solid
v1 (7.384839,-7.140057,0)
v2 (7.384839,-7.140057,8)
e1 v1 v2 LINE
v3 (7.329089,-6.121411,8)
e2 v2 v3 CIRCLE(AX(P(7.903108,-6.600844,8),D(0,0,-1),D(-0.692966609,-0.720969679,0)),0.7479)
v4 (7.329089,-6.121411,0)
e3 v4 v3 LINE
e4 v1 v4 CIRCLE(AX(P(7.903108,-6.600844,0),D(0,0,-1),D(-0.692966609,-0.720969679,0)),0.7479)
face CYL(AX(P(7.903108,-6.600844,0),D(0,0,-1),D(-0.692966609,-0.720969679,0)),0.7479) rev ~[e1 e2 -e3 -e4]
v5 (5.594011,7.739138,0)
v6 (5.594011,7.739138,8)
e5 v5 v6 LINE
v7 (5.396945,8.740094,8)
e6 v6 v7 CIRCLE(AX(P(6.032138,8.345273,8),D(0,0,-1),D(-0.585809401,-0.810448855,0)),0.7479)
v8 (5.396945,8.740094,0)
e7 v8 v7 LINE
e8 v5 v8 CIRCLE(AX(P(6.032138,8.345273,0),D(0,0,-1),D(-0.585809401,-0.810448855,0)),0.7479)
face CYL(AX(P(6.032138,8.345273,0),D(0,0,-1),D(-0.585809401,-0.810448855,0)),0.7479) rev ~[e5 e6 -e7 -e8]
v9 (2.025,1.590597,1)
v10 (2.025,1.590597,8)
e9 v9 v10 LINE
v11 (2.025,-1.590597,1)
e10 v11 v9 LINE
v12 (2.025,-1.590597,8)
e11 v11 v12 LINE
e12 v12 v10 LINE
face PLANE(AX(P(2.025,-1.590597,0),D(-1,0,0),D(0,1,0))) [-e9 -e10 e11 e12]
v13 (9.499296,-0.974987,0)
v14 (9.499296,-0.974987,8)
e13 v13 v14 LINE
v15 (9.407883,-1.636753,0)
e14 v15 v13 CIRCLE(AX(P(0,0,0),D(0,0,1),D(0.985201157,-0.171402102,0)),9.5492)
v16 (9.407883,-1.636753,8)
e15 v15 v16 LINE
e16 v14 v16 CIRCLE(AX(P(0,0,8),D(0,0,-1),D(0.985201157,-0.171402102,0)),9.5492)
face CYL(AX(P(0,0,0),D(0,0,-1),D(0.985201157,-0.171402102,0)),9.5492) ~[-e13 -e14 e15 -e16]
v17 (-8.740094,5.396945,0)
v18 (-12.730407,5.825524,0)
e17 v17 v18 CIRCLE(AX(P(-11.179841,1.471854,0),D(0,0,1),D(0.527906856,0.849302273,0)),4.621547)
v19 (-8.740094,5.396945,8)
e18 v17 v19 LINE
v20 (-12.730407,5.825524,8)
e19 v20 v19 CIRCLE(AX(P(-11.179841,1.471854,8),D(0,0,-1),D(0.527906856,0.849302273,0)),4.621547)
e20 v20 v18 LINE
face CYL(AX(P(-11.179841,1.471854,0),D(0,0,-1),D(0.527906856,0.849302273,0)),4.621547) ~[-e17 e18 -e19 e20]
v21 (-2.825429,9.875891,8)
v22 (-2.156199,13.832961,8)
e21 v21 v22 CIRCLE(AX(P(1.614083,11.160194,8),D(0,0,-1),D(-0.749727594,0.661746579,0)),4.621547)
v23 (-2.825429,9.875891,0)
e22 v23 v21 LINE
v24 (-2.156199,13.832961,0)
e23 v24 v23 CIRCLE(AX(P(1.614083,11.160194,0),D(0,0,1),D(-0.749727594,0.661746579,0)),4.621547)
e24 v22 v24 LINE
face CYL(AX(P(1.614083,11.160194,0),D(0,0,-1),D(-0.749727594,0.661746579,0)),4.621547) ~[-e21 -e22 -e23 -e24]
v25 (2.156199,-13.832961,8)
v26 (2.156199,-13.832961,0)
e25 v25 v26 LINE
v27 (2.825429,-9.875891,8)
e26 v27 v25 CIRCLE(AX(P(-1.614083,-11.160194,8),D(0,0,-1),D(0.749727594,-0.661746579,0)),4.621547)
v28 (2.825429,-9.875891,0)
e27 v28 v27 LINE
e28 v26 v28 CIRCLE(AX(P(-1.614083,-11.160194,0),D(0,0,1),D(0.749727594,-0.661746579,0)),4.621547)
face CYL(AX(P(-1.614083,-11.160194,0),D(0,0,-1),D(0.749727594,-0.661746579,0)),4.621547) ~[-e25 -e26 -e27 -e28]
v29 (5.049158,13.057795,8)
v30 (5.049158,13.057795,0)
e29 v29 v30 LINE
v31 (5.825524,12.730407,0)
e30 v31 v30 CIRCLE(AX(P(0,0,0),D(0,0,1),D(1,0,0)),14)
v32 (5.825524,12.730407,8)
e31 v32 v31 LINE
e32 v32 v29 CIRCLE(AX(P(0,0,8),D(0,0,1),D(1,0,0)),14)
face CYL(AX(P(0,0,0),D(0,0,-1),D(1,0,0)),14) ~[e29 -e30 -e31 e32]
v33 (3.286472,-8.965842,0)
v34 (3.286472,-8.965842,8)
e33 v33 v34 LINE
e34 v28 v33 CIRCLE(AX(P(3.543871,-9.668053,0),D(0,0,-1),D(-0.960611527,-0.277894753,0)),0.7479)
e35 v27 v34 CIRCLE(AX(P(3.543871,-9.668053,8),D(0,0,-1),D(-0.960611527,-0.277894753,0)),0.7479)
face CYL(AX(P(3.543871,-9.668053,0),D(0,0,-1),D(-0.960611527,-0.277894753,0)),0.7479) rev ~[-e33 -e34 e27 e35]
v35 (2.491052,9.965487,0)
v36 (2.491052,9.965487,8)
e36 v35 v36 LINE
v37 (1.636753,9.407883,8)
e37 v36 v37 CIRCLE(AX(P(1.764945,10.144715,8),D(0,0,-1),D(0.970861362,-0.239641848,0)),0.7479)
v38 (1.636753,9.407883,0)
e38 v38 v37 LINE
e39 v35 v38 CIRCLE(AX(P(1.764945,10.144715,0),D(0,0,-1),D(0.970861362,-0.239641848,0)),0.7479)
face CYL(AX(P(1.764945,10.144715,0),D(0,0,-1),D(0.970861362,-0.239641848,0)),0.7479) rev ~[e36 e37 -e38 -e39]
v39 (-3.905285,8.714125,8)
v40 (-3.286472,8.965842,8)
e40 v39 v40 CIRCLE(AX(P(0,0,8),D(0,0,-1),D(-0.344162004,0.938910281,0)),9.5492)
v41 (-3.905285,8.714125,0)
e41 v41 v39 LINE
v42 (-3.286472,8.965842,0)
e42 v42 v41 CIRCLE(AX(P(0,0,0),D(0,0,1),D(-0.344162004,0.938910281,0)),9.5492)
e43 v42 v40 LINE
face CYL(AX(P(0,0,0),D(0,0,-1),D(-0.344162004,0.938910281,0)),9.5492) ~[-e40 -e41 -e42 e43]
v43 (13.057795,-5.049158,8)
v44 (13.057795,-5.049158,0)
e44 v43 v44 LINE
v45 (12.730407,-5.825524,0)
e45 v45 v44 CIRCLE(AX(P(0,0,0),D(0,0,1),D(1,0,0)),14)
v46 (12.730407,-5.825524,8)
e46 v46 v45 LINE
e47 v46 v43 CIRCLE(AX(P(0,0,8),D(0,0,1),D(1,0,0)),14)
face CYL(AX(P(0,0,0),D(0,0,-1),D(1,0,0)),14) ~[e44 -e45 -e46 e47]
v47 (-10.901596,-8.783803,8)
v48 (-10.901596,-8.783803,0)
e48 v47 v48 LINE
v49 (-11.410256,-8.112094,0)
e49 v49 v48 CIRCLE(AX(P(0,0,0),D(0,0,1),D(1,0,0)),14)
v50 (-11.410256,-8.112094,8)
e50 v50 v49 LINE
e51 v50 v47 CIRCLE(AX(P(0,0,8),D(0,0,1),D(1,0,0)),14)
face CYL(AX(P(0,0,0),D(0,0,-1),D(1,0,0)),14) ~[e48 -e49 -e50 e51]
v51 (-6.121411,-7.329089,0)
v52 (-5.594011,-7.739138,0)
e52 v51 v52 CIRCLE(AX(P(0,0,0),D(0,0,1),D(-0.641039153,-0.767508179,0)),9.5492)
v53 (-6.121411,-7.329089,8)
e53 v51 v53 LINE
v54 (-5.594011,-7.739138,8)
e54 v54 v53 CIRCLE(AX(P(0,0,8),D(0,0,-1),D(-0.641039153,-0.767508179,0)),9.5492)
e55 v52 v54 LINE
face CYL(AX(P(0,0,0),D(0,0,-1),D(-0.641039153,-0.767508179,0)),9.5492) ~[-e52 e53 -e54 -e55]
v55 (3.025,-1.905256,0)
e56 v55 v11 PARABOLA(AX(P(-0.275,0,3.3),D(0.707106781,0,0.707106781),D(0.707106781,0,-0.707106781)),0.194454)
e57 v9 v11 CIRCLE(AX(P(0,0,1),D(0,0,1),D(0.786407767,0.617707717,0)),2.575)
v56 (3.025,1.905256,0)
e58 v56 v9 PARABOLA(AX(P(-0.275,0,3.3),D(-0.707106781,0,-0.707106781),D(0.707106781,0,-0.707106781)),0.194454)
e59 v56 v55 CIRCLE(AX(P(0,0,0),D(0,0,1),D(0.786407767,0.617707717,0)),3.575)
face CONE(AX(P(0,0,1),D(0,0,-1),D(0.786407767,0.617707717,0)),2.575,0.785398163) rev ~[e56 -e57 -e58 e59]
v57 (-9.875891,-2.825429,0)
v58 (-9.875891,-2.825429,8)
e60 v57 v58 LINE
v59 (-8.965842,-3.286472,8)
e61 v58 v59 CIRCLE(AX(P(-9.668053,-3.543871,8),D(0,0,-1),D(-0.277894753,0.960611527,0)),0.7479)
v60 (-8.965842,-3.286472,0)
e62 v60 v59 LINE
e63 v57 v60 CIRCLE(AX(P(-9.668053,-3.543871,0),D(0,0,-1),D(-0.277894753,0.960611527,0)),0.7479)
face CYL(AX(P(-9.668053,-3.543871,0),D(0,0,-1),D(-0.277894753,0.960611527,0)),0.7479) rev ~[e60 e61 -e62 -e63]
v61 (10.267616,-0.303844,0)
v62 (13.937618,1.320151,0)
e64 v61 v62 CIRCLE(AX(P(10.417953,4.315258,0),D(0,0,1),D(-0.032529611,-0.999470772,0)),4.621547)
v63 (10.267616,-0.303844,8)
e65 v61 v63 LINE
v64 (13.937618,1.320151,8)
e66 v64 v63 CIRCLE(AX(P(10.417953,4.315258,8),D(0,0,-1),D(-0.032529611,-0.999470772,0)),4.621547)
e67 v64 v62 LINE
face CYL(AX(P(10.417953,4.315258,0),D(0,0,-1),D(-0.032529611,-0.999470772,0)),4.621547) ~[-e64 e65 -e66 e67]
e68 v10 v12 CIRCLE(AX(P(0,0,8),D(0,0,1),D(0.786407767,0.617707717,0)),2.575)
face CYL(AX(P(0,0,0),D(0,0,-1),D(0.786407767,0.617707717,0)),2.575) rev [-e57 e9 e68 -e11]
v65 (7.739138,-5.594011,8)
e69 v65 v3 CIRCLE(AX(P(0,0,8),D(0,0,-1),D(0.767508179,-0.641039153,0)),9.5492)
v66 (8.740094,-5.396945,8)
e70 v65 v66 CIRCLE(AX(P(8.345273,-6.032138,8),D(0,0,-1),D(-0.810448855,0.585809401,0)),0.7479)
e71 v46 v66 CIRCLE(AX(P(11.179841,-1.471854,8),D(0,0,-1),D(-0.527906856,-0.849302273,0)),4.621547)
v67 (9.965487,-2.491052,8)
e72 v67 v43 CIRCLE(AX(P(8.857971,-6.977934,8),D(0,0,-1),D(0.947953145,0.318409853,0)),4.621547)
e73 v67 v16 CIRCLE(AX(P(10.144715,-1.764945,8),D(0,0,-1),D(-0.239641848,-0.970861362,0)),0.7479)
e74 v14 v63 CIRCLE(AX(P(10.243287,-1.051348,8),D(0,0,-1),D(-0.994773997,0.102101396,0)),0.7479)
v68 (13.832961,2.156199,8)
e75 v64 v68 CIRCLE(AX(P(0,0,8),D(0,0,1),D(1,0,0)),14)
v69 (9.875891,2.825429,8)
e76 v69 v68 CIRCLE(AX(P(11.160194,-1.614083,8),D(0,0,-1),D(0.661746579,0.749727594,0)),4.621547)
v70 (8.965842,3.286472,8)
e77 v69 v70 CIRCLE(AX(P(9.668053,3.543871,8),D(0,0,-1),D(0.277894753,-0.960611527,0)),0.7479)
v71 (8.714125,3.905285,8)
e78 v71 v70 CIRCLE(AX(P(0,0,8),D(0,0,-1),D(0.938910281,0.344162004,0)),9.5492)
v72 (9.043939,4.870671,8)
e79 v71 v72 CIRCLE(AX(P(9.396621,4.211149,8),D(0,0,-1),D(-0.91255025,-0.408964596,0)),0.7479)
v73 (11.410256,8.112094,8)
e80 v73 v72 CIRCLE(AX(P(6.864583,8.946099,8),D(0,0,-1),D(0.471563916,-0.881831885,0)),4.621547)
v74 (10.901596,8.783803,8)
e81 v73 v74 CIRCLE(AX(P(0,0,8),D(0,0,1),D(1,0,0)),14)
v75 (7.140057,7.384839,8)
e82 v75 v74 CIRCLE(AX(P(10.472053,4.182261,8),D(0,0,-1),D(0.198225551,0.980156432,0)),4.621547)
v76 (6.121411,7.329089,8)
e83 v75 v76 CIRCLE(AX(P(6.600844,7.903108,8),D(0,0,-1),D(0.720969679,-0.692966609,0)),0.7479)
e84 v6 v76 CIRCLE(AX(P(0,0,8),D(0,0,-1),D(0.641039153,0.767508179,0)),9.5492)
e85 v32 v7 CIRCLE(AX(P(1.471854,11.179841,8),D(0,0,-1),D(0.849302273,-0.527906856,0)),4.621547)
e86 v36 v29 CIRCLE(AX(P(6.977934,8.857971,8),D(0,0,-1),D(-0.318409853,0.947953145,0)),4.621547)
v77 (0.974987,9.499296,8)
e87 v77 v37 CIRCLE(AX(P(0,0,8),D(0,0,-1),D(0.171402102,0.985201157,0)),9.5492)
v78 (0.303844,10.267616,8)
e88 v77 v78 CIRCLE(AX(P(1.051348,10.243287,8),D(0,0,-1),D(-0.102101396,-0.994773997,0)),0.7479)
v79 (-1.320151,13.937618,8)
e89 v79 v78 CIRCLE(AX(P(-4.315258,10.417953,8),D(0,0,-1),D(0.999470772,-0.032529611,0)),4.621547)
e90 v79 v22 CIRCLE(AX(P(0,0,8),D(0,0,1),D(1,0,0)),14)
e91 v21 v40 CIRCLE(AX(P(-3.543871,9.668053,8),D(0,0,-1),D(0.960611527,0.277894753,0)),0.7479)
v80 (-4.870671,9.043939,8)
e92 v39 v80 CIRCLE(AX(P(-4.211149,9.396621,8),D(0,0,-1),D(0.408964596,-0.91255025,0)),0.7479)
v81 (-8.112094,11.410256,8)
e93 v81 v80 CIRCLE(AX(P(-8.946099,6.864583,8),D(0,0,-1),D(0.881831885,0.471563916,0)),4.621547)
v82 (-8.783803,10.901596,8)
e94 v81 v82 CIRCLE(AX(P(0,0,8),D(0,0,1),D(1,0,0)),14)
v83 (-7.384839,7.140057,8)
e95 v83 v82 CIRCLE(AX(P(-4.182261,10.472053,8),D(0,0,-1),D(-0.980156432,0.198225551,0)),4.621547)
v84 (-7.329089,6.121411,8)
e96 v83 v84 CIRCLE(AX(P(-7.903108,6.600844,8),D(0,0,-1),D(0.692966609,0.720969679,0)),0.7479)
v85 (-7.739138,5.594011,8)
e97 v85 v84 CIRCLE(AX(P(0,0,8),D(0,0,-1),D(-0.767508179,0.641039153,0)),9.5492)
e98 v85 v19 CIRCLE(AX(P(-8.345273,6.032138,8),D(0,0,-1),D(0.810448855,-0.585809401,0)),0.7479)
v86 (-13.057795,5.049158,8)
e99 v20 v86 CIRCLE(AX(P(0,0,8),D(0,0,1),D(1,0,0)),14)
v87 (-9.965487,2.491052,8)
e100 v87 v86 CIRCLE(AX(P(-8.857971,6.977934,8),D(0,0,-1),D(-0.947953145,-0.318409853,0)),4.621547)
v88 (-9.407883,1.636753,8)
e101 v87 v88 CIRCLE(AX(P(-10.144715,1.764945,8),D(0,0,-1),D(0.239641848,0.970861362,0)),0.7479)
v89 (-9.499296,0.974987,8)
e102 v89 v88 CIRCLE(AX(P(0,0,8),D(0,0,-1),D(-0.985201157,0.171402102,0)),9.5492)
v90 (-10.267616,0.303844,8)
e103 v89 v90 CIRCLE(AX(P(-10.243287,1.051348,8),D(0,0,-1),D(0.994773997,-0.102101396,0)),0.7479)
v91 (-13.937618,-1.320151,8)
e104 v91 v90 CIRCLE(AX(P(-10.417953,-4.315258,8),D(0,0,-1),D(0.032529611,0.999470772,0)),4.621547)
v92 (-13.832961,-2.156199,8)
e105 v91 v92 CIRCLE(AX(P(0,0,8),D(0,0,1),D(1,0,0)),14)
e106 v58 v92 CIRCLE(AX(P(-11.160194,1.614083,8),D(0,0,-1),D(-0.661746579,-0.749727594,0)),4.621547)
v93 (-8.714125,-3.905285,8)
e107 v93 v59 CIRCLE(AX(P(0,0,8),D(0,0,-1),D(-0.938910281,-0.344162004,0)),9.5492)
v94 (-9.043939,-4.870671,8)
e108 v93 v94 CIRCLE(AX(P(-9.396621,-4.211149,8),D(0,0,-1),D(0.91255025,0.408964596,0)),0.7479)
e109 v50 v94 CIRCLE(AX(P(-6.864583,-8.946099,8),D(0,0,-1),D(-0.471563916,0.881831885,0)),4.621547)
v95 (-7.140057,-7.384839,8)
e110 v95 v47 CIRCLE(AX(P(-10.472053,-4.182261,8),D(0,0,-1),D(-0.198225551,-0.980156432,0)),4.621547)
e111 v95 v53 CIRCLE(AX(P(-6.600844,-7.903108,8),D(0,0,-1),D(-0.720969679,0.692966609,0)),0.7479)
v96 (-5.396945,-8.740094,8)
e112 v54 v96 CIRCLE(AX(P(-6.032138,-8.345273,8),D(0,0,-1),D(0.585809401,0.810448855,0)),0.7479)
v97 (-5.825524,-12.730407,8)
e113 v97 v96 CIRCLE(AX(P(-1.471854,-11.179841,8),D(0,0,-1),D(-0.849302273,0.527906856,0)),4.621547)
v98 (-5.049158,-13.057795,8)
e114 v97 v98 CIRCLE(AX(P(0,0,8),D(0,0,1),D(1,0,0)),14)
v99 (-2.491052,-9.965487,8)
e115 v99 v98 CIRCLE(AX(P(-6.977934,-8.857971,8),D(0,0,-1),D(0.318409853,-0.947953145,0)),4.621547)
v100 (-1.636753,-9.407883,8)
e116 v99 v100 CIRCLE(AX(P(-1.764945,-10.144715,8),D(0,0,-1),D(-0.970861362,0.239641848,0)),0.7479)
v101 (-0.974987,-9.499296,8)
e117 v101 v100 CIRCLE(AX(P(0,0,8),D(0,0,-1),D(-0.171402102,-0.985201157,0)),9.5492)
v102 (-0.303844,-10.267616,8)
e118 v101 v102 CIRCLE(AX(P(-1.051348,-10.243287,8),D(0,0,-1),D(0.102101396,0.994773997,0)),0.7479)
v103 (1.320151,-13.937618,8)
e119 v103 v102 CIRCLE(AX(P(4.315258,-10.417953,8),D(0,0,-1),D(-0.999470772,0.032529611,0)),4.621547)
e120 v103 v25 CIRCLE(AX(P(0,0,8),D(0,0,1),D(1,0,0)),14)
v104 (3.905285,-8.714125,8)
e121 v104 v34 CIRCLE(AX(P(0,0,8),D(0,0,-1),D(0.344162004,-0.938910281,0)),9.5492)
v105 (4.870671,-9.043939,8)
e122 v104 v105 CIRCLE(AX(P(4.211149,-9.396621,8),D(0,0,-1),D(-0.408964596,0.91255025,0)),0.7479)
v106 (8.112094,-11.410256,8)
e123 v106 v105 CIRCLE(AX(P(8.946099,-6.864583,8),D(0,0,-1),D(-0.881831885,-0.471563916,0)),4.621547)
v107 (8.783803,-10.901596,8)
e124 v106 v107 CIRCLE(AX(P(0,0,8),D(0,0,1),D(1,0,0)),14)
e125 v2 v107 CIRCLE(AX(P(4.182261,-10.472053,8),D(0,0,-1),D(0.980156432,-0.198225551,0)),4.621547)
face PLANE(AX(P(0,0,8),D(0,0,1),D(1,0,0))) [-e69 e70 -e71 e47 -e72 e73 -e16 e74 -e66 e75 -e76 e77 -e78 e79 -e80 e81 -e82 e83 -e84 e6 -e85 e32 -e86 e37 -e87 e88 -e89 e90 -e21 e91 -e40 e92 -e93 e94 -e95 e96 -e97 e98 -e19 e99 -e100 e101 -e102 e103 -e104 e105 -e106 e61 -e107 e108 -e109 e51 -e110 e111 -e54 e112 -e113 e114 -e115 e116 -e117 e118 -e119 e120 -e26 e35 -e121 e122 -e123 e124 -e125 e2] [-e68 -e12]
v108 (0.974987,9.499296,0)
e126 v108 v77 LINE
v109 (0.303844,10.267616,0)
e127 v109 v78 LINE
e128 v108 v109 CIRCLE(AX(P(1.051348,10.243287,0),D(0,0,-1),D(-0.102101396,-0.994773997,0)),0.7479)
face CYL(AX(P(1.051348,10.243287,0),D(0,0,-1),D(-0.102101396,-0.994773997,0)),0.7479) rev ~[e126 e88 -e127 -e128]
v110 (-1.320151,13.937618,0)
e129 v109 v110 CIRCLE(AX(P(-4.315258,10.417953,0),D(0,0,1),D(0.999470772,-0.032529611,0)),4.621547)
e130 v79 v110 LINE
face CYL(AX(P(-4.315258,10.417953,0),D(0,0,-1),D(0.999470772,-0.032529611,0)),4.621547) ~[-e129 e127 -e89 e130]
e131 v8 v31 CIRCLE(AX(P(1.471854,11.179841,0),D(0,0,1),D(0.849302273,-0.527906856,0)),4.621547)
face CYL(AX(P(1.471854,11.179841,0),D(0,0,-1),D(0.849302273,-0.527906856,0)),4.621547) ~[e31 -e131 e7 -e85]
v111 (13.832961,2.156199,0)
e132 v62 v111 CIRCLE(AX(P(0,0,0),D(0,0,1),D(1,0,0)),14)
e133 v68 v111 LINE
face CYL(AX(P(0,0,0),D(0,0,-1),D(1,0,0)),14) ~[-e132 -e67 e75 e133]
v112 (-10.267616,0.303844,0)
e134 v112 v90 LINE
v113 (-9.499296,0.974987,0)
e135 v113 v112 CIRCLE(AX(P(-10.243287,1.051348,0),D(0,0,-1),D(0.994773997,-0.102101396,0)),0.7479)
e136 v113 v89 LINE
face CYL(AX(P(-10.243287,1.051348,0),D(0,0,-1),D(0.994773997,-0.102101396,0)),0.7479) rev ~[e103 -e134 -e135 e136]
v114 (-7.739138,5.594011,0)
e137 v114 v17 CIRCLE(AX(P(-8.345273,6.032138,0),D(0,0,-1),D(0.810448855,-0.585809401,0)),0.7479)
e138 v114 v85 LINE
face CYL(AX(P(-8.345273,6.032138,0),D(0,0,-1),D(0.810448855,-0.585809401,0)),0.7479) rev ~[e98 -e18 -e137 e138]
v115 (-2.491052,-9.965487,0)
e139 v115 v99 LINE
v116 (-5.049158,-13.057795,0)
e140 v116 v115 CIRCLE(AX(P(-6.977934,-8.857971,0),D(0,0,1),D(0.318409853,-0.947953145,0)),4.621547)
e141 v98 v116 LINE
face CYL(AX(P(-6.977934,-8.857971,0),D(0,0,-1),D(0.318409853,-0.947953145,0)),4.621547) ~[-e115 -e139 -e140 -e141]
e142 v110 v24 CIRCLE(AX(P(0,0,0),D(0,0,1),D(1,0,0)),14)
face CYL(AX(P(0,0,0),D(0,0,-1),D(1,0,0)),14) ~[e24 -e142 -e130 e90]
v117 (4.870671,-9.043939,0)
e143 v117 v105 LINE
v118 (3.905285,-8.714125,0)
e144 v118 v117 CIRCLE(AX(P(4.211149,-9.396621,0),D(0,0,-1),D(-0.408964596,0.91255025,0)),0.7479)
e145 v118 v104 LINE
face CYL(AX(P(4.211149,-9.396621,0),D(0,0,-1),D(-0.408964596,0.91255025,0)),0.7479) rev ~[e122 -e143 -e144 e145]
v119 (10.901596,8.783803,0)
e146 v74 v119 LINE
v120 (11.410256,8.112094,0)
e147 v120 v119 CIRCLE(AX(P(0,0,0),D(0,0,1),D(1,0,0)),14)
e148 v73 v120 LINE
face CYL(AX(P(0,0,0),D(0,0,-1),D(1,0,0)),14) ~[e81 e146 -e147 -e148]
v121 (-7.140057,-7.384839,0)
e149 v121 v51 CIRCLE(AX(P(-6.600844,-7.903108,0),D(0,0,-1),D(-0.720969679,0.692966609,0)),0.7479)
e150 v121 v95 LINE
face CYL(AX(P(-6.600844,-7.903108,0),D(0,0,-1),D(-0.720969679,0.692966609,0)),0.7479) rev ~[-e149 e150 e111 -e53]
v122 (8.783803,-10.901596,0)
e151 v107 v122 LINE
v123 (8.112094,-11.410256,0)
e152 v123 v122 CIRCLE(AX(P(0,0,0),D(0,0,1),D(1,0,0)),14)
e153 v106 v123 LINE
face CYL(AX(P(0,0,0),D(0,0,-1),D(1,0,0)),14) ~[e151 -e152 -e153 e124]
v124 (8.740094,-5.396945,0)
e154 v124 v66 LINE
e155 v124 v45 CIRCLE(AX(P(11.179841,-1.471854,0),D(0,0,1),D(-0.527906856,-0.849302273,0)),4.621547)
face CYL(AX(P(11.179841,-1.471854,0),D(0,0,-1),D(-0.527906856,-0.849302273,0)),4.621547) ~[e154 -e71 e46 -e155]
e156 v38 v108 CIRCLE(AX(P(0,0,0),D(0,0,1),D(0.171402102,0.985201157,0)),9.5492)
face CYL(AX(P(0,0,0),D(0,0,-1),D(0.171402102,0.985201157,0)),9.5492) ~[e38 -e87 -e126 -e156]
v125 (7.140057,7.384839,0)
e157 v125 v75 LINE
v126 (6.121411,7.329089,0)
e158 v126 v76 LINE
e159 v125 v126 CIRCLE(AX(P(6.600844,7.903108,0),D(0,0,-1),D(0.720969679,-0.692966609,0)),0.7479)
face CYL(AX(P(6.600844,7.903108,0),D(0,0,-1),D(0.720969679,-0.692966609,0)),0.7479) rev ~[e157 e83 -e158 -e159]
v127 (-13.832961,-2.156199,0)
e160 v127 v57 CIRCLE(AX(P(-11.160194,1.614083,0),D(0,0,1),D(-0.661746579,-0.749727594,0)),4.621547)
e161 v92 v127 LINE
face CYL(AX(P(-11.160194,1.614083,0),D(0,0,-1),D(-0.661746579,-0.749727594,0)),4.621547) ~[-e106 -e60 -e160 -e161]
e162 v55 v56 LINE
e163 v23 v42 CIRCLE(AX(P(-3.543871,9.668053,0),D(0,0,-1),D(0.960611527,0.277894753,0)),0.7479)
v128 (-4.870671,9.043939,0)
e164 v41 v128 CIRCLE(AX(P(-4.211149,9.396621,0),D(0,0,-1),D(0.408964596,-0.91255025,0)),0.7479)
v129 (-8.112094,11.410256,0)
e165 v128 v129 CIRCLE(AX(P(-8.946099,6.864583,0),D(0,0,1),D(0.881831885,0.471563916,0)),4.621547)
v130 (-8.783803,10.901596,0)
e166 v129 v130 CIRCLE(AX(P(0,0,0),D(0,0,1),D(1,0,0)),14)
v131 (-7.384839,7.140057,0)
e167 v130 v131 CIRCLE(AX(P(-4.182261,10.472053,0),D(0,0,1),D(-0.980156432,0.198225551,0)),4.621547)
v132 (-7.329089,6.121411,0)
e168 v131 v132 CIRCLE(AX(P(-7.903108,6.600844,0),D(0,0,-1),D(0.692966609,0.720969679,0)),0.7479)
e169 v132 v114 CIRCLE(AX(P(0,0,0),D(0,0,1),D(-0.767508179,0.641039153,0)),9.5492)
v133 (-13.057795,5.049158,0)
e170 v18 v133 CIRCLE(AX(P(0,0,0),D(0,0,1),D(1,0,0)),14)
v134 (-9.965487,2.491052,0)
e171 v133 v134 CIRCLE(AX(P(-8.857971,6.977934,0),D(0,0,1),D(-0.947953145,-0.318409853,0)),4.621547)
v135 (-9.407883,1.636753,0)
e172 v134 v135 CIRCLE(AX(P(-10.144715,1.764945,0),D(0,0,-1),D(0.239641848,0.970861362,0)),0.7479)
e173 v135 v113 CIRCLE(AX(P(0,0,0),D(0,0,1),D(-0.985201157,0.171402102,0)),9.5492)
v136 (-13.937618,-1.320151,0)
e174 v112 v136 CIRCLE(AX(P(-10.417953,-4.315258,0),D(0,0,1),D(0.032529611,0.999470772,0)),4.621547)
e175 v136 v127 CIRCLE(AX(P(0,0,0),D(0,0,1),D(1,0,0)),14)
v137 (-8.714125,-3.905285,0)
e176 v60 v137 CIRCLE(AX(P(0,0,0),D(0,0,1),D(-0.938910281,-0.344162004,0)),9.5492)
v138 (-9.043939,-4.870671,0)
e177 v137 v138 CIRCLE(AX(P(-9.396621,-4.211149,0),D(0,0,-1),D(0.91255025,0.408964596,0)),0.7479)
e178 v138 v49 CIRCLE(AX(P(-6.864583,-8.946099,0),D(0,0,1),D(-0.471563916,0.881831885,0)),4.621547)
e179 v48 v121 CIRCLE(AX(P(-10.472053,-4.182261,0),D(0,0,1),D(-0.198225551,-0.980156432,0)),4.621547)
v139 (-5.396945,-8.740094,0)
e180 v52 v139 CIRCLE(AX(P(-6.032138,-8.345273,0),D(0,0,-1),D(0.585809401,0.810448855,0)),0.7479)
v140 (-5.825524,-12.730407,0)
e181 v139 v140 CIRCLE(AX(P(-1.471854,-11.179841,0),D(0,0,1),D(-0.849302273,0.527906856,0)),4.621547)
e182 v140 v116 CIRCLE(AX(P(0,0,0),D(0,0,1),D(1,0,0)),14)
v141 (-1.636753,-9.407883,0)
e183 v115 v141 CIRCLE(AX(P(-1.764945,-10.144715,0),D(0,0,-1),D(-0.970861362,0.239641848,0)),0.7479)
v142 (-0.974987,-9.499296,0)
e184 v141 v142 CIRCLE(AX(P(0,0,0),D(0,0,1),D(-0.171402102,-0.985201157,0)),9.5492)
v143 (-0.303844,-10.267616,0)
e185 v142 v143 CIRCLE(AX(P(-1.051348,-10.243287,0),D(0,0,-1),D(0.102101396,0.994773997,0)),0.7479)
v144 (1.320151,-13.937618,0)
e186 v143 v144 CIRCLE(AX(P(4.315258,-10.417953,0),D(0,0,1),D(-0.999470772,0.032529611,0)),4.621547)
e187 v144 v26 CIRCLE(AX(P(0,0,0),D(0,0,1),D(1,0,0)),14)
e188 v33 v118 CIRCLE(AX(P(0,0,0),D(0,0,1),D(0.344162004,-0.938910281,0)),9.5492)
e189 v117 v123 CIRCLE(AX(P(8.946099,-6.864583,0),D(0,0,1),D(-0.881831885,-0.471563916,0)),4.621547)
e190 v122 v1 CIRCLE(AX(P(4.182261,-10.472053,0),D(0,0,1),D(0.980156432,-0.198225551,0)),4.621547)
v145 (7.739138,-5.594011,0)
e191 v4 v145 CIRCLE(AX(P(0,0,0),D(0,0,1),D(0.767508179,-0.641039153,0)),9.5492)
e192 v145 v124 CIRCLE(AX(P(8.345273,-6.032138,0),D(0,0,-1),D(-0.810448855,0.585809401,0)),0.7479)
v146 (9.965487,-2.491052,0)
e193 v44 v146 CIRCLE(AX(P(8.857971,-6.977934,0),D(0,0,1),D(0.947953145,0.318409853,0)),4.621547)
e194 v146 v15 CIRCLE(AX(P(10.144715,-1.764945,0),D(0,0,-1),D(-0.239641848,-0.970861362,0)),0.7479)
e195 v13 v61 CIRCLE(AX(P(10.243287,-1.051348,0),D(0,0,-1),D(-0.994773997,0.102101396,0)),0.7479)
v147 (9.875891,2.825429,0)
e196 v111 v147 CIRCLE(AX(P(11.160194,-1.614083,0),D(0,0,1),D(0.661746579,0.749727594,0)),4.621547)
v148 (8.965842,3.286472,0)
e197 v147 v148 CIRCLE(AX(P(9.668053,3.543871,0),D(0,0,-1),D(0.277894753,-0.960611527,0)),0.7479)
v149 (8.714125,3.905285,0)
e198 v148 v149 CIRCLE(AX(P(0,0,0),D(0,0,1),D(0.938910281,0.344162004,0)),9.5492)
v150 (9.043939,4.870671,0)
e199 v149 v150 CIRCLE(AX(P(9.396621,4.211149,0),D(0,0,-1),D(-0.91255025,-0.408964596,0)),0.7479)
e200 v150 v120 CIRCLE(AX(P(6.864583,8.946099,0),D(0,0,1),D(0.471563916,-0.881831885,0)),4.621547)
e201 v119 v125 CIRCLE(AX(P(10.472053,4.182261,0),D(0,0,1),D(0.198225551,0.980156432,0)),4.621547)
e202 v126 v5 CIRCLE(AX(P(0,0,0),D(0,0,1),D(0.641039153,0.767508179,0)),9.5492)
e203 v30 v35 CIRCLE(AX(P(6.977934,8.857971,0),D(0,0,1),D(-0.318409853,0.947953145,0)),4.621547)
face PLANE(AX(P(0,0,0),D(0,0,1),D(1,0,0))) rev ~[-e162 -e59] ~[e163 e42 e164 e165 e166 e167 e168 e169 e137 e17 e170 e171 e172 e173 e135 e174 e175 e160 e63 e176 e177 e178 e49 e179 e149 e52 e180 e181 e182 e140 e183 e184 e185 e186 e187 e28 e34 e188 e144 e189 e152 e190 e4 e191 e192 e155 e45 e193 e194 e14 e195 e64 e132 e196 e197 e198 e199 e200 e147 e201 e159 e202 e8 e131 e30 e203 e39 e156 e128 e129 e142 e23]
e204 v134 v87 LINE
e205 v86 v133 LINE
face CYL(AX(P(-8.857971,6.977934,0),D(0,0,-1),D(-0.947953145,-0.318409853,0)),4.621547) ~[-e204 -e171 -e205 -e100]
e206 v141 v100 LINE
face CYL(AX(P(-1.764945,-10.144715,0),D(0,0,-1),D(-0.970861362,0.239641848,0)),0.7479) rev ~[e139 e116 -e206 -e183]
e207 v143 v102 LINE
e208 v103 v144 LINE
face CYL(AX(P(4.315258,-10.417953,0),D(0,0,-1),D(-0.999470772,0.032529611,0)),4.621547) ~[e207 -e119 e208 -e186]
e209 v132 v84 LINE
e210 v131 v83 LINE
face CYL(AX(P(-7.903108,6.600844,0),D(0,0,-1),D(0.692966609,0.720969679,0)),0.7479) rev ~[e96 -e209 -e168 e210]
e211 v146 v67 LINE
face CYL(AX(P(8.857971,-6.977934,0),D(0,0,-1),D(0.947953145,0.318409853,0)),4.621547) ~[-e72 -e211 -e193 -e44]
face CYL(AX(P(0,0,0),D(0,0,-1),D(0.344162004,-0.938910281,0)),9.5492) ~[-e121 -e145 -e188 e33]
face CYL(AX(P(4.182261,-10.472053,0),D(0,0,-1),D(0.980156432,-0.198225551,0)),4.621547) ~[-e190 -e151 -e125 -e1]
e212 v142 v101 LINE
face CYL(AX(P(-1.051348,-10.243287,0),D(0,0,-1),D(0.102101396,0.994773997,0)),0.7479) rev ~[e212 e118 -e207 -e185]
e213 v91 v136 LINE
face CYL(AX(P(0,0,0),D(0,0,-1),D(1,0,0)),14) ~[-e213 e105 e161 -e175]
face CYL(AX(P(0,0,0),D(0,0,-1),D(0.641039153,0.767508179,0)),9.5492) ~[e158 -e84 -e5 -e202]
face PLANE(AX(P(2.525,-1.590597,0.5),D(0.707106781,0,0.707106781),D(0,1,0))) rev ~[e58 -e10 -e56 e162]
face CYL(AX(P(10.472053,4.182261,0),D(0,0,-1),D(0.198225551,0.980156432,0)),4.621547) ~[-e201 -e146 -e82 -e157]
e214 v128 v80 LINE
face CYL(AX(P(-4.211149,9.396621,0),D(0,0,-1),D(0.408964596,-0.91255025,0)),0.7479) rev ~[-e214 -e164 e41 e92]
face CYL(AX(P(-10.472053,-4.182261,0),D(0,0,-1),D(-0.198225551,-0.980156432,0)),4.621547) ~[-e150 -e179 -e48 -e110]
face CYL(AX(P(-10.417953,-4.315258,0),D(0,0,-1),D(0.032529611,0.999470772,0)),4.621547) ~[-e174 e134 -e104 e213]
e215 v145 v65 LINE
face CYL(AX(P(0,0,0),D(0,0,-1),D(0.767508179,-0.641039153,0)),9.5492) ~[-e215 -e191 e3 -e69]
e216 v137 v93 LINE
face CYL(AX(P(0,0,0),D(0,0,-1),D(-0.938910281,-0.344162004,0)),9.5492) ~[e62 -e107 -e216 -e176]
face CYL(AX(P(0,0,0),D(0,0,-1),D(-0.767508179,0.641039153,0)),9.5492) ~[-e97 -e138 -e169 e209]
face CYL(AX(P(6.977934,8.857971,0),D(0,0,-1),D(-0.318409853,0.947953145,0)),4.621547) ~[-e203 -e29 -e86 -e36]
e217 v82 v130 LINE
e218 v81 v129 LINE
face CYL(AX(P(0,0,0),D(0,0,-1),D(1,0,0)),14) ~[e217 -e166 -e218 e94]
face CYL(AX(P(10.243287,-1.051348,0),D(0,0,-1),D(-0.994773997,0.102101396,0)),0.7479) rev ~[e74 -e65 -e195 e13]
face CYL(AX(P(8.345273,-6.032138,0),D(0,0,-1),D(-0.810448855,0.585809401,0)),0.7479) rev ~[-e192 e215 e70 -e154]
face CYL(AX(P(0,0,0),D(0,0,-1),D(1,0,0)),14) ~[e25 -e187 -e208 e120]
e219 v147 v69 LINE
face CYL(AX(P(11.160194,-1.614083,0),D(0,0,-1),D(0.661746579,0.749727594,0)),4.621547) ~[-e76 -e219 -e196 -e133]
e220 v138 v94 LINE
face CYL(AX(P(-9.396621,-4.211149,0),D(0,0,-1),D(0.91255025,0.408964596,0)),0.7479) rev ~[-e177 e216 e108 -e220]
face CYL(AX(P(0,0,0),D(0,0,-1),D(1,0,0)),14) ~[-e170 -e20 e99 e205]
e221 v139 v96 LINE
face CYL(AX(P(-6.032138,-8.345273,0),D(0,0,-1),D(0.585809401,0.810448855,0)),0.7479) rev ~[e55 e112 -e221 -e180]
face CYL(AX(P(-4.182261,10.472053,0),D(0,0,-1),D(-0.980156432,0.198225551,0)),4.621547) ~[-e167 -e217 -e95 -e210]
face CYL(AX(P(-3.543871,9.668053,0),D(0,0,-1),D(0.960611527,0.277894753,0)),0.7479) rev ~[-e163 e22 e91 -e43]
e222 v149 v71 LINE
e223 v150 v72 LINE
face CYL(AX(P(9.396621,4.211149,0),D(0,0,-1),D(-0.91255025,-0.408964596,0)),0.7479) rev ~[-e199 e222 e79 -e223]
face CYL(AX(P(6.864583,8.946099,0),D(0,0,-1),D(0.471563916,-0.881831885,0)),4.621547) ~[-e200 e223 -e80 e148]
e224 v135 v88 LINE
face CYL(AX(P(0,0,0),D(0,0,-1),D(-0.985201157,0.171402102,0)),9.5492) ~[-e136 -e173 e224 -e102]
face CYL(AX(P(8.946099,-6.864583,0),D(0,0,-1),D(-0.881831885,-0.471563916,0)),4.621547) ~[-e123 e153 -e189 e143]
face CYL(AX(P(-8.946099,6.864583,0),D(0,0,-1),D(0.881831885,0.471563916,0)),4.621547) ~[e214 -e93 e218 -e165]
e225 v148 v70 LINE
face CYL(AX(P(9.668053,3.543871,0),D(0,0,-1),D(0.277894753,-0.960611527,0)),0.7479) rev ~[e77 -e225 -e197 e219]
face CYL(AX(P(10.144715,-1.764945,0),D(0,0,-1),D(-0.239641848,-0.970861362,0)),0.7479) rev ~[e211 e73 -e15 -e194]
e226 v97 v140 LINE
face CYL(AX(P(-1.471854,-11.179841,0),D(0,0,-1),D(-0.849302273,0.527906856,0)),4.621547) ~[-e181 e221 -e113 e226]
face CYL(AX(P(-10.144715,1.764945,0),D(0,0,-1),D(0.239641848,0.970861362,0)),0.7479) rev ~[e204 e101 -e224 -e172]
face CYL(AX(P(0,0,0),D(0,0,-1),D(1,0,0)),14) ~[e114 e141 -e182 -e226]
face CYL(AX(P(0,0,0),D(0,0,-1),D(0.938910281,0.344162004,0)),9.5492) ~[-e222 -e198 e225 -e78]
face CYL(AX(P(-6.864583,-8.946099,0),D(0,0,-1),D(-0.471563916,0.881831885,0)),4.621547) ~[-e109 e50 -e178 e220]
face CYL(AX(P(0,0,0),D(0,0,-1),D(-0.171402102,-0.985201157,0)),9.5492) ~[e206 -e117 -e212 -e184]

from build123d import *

# Parameters (mm, degrees)
SKETCH3_R          = 14
GEARBODY_DEPTH     = 8
TOOTHCUT_DEPTH     = 22.354156504
CIRPATTERN1_COUNT  = 12
CUT_EXTRUDE1_DEPTH = 8
CHAMFER1_SIZE      = 1


with BuildPart() as part:
    # Sketch3 → gearBody (new body)
    with BuildSketch(Plane.XY):
        Circle(SKETCH3_R)
    extrude(amount=GEARBODY_DEPTH)

    # Sketch2 → toothCut (cut, through all)
    with BuildSketch(Plane.XY):
        with BuildLine():
            ThreePointArc((9.407882888, -1.636752947), (9.459378184, -1.306669437), (9.499295851, -0.974986654))
            ThreePointArc((9.499295851, -0.974986654), (9.751264317, -0.488083012), (10.267616219, -0.303844098))
            ThreePointArc((10.267616219, -0.303844098), (12.510323629, 0.19449452), (14.235972761, 1.711139825))
            ThreePointArc((14.235972761, 1.711139825), (14.203571583, -1.962007706), (13.238980983, -5.506387425))
            ThreePointArc((13.238980983, -5.506387425), (11.989111429, -3.578719403), (9.965486694, -2.491051791))
            ThreePointArc((9.965486694, -2.491051791), (9.51841766, -2.173730906), (9.407882888, -1.636752947))
        make_face()
    toothcut = extrude(amount=TOOTHCUT_DEPTH, mode=Mode.SUBTRACT)

    # CirPattern1: toothCut ×12 about axis
    cirpattern1_axis = Axis((0, 0, 0), (0, 0, 1))
    for i in range(1, CIRPATTERN1_COUNT):
        add(toothcut.rotate(cirpattern1_axis, i * 360 / CIRPATTERN1_COUNT), mode=Mode.SUBTRACT)

    # hub1Dia → Cut-Extrude1 (cut)
    with BuildSketch(Plane(origin=(0, 0, 0), x_dir=(-1, 0, 0), z_dir=(0, 0, -1))):
        with BuildLine():
            Line((-2.025, -1.590597372), (-2.025, 1.590597372))
            ThreePointArc((-2.025, 1.590597372), (2.575, 0), (-2.025, -1.590597372))
        make_face()
    extrude(amount=-CUT_EXTRUDE1_DEPTH, mode=Mode.SUBTRACT)

    # Chamfer1
    chamfer1_edges = [part.edges().sort_by_distance(p)[0] for p in [
        (-2.575, 0, 0),
        (2.025, 0, 0),
    ]]
    chamfer(chamfer1_edges, length=CHAMFER1_SIZE)


solid = part.part
